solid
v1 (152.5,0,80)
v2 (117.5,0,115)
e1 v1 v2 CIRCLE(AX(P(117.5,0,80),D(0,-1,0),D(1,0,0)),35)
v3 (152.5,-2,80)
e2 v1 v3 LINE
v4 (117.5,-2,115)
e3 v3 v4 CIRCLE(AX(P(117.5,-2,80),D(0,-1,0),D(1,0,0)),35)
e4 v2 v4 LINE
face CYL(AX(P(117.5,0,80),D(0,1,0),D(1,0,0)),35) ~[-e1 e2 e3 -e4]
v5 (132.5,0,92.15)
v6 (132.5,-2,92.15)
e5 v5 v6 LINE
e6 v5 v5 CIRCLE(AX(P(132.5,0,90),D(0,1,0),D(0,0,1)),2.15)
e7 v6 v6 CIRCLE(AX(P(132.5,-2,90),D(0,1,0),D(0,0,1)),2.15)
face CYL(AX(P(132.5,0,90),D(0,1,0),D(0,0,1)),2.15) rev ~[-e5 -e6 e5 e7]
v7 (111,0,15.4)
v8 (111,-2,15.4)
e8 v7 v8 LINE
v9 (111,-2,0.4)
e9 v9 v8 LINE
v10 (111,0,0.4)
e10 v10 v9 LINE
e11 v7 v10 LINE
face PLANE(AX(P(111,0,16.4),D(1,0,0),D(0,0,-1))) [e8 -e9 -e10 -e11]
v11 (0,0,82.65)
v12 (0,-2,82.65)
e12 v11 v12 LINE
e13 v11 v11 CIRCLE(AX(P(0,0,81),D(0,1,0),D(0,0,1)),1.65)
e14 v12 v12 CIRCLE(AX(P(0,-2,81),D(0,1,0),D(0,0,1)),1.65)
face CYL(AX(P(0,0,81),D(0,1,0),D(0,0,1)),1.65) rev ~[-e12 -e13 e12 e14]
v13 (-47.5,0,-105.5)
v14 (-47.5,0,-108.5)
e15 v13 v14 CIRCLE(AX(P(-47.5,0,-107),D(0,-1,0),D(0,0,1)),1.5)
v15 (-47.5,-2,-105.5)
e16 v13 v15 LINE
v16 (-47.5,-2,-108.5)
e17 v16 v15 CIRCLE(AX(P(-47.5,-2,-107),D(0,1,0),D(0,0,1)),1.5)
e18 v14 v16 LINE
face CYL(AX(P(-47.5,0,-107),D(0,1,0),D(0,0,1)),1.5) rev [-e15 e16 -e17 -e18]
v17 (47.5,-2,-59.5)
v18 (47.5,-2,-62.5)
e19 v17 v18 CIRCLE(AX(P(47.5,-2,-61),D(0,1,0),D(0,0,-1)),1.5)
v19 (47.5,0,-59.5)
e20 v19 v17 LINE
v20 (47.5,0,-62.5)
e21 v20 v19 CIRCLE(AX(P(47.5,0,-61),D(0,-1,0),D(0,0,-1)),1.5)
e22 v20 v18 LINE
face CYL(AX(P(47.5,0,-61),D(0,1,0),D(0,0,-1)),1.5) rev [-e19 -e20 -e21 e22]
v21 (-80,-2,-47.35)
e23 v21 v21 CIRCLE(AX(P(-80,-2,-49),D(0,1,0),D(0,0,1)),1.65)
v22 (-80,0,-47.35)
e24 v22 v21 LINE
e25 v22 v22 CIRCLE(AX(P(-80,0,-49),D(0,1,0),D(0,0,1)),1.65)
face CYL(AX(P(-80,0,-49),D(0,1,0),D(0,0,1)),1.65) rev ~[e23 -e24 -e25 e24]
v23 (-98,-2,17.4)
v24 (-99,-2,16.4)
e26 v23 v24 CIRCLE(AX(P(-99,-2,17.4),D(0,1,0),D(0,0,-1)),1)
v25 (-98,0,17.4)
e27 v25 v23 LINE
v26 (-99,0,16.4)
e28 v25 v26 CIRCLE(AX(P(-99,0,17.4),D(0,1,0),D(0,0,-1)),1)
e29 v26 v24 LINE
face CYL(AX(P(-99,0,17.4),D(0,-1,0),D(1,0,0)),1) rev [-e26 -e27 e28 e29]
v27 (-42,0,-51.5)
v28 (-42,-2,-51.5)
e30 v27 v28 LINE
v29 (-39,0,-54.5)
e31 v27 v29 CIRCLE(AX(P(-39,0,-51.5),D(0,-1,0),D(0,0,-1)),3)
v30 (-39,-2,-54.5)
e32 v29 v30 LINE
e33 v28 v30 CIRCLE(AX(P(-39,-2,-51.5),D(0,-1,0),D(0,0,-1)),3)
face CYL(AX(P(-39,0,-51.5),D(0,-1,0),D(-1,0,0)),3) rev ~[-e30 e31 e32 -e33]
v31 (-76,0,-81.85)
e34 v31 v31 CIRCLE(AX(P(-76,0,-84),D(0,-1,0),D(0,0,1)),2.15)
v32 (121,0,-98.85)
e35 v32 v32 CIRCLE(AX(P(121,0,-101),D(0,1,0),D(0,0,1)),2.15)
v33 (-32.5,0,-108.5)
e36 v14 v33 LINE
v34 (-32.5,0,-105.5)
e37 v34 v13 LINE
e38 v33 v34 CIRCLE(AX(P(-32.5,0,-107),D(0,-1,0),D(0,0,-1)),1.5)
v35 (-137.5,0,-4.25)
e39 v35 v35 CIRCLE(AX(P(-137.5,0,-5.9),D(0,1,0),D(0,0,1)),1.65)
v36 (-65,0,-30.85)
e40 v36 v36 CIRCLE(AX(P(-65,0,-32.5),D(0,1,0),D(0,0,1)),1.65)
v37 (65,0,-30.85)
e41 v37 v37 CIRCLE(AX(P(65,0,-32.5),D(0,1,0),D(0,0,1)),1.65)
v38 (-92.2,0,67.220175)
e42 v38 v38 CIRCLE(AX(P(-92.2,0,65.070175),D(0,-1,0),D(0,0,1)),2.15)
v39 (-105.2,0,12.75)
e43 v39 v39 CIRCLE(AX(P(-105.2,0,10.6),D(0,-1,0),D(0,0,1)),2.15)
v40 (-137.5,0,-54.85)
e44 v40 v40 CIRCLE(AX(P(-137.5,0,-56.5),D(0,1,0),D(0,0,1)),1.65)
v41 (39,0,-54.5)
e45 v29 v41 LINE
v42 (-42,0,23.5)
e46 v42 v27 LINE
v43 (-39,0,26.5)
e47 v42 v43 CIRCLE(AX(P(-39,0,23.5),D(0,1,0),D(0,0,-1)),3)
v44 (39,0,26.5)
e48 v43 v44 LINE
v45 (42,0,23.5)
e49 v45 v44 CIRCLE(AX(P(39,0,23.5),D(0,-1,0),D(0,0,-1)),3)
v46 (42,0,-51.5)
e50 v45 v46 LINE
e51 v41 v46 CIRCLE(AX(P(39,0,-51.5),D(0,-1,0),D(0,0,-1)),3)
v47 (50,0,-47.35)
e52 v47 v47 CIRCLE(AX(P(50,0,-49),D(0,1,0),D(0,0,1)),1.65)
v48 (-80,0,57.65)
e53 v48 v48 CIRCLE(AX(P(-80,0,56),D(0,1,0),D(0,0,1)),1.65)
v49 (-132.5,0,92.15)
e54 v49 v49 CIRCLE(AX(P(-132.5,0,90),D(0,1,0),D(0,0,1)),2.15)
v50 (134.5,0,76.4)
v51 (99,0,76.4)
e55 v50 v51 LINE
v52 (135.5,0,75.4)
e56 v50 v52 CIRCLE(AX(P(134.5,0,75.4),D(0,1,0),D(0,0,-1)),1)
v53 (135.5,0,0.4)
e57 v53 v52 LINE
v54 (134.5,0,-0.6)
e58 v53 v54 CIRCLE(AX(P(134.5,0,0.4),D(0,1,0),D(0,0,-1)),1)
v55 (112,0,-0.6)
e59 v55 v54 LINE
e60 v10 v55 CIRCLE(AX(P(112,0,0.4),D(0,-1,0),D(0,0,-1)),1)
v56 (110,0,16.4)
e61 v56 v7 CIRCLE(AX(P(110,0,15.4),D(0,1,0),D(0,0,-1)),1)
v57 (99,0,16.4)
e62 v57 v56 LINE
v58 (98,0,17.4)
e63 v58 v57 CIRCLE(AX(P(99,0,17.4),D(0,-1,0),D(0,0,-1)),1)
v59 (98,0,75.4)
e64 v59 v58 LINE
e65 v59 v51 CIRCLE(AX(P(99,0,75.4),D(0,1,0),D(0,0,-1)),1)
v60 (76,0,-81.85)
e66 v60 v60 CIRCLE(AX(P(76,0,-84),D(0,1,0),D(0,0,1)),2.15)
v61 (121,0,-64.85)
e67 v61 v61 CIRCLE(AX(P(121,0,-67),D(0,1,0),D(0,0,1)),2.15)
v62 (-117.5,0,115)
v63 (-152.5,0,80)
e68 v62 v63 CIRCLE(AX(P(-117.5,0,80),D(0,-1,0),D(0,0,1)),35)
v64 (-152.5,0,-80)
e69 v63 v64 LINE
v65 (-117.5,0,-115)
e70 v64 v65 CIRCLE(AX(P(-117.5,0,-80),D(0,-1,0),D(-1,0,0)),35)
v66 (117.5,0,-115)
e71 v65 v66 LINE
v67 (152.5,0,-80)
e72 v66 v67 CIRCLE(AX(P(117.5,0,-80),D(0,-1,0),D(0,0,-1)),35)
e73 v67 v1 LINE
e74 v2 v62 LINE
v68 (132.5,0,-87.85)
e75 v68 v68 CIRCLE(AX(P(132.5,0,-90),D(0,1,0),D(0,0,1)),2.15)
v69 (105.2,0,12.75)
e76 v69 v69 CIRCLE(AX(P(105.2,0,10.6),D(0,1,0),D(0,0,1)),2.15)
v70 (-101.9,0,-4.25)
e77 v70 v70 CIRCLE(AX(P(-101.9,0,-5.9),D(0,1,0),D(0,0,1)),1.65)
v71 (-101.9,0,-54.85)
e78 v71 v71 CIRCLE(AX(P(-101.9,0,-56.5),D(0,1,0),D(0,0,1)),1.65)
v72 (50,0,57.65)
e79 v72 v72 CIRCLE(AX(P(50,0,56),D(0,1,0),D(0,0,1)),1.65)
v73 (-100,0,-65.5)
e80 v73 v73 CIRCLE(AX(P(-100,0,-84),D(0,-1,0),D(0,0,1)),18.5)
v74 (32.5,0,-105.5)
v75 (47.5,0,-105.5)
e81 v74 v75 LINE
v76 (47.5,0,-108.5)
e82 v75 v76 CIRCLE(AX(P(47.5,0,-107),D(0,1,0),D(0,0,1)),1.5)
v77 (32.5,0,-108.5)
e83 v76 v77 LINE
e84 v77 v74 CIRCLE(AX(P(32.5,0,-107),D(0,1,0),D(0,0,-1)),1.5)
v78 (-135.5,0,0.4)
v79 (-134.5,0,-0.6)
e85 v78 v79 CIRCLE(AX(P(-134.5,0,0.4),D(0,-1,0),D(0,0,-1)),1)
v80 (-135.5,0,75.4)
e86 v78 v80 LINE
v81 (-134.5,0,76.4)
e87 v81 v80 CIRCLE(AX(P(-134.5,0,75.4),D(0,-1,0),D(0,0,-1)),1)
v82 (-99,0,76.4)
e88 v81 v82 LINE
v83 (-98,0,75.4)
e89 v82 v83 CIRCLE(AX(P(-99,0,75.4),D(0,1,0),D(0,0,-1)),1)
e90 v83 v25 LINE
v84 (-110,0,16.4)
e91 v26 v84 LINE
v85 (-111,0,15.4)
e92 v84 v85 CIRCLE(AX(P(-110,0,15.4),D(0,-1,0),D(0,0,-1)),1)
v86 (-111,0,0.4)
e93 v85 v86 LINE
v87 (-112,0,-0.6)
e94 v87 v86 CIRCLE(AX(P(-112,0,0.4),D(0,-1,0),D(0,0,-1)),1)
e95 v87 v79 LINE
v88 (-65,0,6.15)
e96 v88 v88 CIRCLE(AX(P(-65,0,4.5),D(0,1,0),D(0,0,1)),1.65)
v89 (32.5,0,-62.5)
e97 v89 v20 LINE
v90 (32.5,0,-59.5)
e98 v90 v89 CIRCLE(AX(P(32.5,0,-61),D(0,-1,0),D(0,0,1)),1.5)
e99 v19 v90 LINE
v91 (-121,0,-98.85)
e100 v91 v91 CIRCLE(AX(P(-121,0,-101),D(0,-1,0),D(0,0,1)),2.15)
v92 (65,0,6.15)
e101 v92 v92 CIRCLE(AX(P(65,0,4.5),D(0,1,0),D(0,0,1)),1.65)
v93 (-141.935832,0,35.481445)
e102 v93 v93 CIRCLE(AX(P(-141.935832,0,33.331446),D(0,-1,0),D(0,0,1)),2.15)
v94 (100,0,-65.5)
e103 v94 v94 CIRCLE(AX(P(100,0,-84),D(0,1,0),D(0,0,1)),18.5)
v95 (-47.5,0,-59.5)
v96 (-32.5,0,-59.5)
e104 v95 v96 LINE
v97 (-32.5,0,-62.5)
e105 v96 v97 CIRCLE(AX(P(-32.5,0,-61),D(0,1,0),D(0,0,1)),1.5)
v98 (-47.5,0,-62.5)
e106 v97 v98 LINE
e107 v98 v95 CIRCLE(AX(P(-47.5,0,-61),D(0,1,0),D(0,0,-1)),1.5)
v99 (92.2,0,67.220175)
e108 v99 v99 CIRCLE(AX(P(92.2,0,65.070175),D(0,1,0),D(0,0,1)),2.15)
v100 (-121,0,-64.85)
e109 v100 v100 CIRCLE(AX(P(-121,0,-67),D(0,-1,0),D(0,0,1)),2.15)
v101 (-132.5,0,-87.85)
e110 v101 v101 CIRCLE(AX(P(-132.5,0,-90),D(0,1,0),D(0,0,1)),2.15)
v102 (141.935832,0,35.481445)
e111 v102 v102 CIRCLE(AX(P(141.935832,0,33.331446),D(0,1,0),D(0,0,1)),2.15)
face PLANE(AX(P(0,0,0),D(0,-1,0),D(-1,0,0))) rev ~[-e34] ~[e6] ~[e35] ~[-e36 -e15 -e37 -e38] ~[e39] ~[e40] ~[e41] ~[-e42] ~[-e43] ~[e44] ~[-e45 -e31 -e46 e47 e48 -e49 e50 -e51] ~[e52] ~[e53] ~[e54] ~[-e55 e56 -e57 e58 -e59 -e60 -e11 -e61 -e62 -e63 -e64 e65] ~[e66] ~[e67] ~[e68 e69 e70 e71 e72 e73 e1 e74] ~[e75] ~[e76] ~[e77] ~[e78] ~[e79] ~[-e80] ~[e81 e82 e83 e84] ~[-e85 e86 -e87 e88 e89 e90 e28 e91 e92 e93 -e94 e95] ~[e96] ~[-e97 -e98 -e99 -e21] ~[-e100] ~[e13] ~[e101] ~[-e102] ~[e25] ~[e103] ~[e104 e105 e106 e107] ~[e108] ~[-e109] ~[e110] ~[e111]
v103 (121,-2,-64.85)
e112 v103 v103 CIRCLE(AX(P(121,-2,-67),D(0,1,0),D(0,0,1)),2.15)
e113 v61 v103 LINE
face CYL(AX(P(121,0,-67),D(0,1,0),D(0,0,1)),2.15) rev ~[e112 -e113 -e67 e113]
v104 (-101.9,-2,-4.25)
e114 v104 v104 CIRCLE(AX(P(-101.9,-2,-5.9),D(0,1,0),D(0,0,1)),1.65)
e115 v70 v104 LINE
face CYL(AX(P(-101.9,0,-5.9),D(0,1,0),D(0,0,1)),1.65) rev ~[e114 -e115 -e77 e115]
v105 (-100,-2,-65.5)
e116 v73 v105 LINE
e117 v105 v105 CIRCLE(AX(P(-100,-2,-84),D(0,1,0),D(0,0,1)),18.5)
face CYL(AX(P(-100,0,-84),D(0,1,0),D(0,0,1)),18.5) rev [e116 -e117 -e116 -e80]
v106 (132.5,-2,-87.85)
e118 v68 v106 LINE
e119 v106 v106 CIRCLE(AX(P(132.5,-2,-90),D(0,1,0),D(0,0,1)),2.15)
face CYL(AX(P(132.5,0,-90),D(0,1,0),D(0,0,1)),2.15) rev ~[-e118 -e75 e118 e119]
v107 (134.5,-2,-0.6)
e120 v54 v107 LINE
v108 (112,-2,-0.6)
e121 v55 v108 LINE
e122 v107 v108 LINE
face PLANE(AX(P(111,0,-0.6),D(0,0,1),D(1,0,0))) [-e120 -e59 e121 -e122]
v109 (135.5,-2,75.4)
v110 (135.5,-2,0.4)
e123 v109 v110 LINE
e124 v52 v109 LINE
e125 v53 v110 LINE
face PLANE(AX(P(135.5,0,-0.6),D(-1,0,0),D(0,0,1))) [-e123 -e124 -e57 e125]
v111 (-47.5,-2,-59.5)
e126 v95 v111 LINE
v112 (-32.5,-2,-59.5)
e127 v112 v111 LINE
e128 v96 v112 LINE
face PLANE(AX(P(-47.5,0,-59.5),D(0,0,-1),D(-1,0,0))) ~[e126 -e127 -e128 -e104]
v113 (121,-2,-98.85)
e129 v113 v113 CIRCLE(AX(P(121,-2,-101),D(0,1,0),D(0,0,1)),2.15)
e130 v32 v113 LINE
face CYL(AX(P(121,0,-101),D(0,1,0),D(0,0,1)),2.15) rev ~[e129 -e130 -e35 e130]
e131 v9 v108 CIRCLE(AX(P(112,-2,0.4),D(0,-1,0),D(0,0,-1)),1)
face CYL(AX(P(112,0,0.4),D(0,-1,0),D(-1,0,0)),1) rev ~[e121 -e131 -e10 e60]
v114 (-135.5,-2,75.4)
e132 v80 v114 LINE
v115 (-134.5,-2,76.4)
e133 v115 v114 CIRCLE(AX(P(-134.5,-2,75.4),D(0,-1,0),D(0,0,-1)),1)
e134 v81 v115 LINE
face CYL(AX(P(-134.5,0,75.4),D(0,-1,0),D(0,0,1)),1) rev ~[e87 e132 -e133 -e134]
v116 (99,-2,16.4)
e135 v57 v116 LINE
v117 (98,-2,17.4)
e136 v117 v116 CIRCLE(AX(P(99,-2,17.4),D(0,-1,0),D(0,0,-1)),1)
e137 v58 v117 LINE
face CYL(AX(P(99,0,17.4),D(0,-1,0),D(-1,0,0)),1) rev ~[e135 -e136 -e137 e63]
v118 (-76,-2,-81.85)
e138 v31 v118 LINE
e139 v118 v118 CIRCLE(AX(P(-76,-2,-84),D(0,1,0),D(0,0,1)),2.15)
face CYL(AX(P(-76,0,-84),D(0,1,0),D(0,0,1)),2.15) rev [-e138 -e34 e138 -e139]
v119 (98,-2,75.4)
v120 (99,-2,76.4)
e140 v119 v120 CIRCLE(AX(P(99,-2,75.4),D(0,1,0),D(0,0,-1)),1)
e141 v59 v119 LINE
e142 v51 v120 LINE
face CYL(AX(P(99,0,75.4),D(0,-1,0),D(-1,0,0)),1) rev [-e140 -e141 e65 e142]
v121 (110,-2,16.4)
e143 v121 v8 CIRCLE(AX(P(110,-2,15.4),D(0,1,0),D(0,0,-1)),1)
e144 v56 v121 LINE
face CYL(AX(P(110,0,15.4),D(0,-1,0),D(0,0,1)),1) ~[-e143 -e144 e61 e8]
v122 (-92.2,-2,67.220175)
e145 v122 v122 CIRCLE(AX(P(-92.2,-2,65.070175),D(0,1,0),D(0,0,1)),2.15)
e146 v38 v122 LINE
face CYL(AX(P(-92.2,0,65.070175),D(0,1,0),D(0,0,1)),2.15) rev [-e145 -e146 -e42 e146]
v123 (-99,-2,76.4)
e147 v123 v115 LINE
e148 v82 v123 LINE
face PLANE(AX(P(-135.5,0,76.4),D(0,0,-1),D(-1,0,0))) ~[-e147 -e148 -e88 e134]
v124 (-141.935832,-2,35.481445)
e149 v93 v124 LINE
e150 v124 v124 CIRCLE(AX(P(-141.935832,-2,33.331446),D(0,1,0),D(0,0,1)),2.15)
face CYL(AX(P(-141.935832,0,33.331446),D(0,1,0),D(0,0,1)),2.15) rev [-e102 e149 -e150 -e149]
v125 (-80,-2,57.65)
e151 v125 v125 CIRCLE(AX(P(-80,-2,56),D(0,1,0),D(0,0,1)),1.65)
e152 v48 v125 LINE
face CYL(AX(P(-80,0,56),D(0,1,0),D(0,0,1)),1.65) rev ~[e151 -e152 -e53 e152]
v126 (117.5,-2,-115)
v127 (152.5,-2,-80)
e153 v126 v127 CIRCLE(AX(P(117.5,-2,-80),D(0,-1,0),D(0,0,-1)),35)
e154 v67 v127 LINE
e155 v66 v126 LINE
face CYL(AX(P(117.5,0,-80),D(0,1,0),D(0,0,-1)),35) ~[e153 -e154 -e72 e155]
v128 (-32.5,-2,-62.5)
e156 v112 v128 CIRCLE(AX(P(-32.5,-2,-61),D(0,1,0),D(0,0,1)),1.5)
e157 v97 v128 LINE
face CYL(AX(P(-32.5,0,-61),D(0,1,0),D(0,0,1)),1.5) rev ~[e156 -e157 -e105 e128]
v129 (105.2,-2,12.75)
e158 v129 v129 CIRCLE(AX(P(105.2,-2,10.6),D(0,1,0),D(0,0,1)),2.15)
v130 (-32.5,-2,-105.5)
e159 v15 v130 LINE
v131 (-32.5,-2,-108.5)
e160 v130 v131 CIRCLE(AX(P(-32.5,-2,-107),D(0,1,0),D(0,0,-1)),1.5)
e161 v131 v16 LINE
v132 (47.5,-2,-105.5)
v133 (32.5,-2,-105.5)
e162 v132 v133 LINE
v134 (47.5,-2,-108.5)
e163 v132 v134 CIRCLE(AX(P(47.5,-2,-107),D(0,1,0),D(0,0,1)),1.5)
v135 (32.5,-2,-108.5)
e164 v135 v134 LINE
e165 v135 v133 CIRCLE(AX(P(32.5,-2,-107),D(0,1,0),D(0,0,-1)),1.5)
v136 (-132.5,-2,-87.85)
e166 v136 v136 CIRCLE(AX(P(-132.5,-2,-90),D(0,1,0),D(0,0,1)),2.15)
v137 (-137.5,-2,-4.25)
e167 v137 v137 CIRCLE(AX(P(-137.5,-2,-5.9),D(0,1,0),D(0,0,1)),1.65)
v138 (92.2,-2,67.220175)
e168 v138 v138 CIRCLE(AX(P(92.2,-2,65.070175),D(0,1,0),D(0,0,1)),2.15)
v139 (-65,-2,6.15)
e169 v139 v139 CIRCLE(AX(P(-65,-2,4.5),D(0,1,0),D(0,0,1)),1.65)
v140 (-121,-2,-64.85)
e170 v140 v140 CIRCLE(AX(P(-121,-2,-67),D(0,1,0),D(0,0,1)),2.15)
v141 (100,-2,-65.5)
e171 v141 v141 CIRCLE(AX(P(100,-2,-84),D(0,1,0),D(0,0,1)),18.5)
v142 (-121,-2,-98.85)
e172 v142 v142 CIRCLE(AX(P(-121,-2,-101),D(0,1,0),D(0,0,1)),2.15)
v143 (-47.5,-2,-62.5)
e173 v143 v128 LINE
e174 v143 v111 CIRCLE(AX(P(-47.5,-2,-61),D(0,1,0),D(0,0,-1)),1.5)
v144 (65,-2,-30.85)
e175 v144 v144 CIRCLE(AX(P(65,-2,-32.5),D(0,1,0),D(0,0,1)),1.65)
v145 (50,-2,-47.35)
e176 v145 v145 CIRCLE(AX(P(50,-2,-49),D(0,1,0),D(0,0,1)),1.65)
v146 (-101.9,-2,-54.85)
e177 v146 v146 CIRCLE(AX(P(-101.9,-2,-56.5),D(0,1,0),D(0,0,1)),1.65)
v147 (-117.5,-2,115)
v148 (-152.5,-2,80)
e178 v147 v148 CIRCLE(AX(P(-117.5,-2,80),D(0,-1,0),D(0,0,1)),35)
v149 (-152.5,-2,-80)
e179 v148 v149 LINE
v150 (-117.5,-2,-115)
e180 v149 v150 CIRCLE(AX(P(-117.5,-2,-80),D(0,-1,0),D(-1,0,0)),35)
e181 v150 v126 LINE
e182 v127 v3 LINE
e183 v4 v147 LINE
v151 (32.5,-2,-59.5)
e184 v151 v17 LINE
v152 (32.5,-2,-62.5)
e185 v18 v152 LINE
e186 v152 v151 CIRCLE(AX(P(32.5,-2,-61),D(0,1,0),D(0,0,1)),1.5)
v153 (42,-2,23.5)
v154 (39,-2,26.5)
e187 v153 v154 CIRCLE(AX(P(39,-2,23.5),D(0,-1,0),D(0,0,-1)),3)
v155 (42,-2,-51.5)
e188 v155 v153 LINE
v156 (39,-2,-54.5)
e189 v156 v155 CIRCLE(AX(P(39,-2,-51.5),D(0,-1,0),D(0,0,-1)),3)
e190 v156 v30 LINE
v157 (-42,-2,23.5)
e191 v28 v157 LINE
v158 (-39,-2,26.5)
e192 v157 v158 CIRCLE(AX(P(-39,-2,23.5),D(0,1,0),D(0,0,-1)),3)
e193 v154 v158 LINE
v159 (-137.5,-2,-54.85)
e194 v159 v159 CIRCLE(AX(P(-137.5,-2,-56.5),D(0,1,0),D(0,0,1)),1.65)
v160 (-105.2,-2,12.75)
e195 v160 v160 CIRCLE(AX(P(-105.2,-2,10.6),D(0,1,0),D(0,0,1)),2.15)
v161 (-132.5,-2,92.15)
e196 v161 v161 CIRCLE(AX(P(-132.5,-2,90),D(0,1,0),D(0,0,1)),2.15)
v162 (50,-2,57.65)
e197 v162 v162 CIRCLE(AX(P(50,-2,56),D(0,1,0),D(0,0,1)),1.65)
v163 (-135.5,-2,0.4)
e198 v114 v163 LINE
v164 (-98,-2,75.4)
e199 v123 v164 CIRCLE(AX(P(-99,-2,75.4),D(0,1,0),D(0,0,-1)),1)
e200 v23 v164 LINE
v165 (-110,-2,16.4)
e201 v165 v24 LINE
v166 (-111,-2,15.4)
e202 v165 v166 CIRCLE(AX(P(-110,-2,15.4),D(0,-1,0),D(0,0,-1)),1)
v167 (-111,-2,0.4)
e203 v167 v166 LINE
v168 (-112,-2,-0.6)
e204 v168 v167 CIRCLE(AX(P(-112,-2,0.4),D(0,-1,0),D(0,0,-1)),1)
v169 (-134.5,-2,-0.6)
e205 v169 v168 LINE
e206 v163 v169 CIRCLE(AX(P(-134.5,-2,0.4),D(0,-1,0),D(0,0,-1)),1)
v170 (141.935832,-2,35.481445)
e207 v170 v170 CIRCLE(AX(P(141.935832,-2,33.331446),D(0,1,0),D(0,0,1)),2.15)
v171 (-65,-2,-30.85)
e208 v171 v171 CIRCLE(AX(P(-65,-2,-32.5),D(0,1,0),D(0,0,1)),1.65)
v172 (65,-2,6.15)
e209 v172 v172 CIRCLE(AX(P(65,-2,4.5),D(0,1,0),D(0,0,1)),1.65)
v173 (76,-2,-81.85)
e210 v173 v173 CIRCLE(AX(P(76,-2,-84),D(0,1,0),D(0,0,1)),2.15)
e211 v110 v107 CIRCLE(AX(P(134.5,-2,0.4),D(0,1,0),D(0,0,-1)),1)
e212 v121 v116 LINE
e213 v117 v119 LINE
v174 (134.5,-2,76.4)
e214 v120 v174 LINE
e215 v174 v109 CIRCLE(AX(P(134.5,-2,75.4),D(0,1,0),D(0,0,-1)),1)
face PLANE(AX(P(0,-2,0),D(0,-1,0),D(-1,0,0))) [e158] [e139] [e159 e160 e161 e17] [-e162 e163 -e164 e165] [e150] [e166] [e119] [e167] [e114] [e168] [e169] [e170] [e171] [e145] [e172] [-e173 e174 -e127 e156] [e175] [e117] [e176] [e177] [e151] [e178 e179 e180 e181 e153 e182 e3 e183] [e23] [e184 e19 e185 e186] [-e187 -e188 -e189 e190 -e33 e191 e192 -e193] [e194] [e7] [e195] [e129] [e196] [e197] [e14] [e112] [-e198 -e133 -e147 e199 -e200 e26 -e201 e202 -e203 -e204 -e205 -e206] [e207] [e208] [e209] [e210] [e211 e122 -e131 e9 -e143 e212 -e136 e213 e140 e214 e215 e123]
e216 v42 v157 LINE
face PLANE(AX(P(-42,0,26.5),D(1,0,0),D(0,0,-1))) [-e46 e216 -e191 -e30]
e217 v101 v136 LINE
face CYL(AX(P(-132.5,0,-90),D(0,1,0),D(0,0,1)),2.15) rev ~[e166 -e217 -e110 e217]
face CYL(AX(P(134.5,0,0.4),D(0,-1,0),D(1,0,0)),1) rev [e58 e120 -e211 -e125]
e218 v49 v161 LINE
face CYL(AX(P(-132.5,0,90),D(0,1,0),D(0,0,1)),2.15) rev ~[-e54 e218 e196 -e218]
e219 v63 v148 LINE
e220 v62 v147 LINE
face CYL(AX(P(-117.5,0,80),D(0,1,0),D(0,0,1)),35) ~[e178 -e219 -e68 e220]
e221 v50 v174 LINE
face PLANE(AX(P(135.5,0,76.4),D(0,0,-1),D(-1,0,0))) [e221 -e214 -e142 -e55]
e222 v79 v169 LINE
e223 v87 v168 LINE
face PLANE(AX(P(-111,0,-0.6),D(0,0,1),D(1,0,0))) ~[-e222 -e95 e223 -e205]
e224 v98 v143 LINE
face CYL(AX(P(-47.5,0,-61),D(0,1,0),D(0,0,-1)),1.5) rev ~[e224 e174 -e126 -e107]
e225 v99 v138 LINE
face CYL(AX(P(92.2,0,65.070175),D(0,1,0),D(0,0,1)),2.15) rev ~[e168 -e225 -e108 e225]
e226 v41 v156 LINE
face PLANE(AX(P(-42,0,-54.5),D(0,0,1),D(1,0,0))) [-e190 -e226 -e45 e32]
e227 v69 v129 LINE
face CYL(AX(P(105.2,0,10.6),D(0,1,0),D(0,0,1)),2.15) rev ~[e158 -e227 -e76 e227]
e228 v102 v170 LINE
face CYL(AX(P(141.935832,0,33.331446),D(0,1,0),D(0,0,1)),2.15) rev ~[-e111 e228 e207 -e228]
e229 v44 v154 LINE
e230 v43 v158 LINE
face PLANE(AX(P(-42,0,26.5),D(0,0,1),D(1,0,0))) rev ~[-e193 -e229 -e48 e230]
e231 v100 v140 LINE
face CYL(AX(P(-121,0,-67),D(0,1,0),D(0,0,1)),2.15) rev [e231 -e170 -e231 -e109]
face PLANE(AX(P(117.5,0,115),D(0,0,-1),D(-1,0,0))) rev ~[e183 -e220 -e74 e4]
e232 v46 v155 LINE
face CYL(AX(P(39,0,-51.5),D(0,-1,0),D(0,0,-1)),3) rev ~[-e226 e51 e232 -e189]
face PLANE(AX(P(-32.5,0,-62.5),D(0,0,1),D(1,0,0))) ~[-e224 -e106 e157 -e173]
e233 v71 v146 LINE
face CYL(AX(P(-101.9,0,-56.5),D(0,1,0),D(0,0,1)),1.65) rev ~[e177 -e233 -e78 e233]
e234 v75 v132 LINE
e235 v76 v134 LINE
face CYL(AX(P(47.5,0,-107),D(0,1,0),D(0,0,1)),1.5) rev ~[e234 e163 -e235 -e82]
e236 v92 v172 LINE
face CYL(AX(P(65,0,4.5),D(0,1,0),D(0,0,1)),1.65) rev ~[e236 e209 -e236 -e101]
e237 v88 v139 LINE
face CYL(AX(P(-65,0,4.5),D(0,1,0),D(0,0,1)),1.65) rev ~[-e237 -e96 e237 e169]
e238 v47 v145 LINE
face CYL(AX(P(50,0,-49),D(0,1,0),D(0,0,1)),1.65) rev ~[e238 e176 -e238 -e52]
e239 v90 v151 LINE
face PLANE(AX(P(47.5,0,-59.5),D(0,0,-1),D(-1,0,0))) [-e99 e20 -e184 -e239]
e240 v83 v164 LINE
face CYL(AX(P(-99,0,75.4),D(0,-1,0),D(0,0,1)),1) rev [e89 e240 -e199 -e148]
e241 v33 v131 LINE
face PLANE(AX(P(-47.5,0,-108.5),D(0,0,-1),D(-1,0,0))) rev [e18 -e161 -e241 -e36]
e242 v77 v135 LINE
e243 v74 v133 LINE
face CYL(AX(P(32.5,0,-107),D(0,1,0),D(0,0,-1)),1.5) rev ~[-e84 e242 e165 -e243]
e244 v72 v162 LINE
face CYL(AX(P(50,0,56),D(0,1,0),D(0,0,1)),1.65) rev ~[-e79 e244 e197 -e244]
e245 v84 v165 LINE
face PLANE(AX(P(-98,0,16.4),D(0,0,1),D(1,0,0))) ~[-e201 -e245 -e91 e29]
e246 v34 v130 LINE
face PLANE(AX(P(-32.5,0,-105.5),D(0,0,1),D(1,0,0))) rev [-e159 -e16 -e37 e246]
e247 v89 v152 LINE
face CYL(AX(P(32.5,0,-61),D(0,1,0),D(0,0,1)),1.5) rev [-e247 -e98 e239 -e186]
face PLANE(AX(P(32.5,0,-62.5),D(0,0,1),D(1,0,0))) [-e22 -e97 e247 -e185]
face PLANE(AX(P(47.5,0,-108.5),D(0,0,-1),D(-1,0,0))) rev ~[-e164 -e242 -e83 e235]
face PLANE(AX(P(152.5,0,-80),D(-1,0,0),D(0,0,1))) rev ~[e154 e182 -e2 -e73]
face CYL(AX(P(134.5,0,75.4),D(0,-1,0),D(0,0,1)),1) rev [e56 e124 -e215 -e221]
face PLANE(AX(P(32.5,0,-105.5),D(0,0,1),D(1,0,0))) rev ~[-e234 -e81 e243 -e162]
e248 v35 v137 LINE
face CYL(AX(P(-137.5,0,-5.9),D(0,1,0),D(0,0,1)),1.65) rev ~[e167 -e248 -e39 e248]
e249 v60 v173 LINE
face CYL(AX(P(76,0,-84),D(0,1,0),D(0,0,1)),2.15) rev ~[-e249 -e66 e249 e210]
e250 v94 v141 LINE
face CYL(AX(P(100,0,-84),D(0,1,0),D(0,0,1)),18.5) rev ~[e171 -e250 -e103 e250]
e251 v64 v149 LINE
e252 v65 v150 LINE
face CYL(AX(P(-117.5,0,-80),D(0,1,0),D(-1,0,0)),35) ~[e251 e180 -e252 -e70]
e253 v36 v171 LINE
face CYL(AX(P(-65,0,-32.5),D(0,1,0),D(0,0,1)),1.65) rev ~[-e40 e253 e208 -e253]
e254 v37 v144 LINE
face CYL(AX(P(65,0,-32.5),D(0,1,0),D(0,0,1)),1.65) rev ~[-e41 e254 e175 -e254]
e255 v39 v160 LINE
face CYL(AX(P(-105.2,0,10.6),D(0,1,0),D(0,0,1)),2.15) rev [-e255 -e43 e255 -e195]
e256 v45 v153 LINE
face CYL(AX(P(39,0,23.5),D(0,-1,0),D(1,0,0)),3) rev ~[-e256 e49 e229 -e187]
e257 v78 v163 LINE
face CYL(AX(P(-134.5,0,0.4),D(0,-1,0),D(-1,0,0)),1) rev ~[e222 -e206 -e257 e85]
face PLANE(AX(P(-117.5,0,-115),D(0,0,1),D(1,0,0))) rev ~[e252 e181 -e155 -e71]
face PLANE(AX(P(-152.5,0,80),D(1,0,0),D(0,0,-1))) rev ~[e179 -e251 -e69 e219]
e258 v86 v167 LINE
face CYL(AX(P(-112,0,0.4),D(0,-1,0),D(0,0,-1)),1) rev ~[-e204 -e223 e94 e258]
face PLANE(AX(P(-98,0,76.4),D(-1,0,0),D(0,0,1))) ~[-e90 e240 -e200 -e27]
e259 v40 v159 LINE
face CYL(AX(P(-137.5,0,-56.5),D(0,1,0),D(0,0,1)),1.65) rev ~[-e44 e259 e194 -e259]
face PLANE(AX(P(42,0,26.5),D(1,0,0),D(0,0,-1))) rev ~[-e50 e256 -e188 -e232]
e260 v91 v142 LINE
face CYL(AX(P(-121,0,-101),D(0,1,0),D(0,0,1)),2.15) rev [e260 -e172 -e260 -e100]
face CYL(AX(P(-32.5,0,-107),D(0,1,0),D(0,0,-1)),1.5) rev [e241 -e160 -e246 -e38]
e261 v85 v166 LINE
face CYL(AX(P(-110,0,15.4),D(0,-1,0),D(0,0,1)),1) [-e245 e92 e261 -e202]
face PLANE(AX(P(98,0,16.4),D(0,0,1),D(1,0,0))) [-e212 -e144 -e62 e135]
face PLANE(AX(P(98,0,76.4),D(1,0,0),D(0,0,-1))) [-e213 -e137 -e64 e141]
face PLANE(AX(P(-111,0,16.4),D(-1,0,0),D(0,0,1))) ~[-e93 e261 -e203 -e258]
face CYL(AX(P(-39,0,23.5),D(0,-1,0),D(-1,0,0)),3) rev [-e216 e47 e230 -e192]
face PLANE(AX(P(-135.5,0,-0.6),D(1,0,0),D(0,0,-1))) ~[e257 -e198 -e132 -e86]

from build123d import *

# Parameters (mm, degrees)
BOSS_EXTRUDE1_DEPTH  = 2
CUT_EXTRUDE8_DEPTH   = 192.01112533
SKETCH3_R            = 2.15
CUT_EXTRUDE9_DEPTH   = 192.01112533
SKETCH8_R            = 2.15
CUT_EXTRUDE11_DEPTH  = 192.01112533
FILLET1_R            = 1
SKETCH17_R           = 18.5
SKETCH17_R_2         = 2.15
CUT_EXTRUDE19_DEPTH  = 10
SKETCH19_R           = 1.65
SKETCH19_W           = 84
SKETCH19_H           = 81
CUT_EXTRUDE21_DEPTH  = 192.01112533
FILLET2_R            = 3
SKETCH20_R           = 1.65
CUT_EXTRUDE22_DEPTH  = 192.01112533
SKETCH21_R           = 1.65
CUT_EXTRUDE23_DEPTH  = 192.01112533
CUT_EXTRUDE24_DEPTH  = 192.01112533
FILLET1_OF_MIRROR1_R = 1


with BuildPart() as part:
    # Sketch1 → Boss-Extrude1 (new body)
    with BuildSketch(Plane(origin=(0, 0, 0), x_dir=(1, 0, 0), z_dir=(0, 1, 0))):
        with BuildLine():
            Line((117.5, -115), (-117.5, -115))
            ThreePointArc((-117.5, -115), (-142.248737342, -104.748737342), (-152.5, -80))
            Line((-152.5, -80), (-152.5, 80))
            ThreePointArc((-152.5, 80), (-142.248737342, 104.748737342), (-117.5, 115))
            Line((-117.5, 115), (117.5, 115))
            ThreePointArc((117.5, 115), (142.248737342, 104.748737342), (152.5, 80))
            Line((152.5, 80), (152.5, -80))
            ThreePointArc((152.5, -80), (142.248737342, -104.748737342), (117.5, -115))
        make_face()
    extrude(amount=-BOSS_EXTRUDE1_DEPTH)

    # Sketch2 → Cut-Extrude8 (cut, through all)
    with BuildSketch(Plane(origin=(0, 0, 0), x_dir=(1, 0, 0), z_dir=(0, 1, 0))):
        Polygon((98, -76.4), (98, -16.4), (111, -16.4), (111, 0.6), (135.5, 0.6), (135.5, -76.4), align=None)
    cut_extrude8 = extrude(amount=-CUT_EXTRUDE8_DEPTH, mode=Mode.SUBTRACT)

    # Sketch3 → Cut-Extrude9 (cut, through all)
    with BuildSketch(Plane(origin=(0, 0, 0), x_dir=(1, 0, 0), z_dir=(0, 1, 0))):
        with Locations(Location((92.2, -65.070175326, 0), (0, 0, 270))):
            Circle(SKETCH3_R)
        with Locations(Location((105.2, -10.6, 0), (0, 0, 270))):
            Circle(SKETCH3_R)
        with Locations(Location((141.935832446, -33.3314455, 0), (0, 0, 270))):
            Circle(SKETCH3_R)
    cut_extrude9 = extrude(amount=-CUT_EXTRUDE9_DEPTH, mode=Mode.SUBTRACT)

    # Sketch8 → Cut-Extrude11 (cut, through all)
    with BuildSketch(Plane(origin=(0, 0, 0), x_dir=(1, 0, 0), z_dir=(0, 1, 0))):
        with Locations(Location((-132.5, 90, 0), (0, 0, 270))):
            Circle(SKETCH8_R)
        with Locations(Location((132.5, 90, 0), (0, 0, 270))):
            Circle(SKETCH8_R)
        with Locations(Location((-132.5, -90, 0), (0, 0, 270))):
            Circle(SKETCH8_R)
        with Locations(Location((132.5, -90, 0), (0, 0, 270))):
            Circle(SKETCH8_R)
    extrude(amount=-CUT_EXTRUDE11_DEPTH, mode=Mode.SUBTRACT)

    # Fillet1
    fillet1_edges = [part.edges().sort_by_distance(p)[0] for p in [
        (135.5, -1, 76.4),
        (98, -1, 76.4),
        (98, -1, 16.4),
        (111, -1, 16.4),
        (111, -1, -0.6),
        (135.5, -1, -0.6),
    ]]
    fillet(fillet1_edges, radius=FILLET1_R)

    # Sketch17 → Cut-Extrude19 (cut)
    with BuildSketch(Plane(origin=(0, 0, 0), x_dir=(1, 0, 0), z_dir=(0, 1, 0))):
        with Locations(Location((100, 84, 0), (0, 0, 270))):
            Circle(SKETCH17_R)
        with Locations(Location((121, 101, 0), (0, 0, 270))):
            Circle(SKETCH17_R_2)
        with Locations(Location((121, 67, 0), (0, 0, 270))):
            Circle(SKETCH17_R_2)
        with Locations(Location((76, 84, 0), (0, 0, 270))):
            Circle(SKETCH17_R_2)
    cut_extrude19 = extrude(amount=-CUT_EXTRUDE19_DEPTH, mode=Mode.SUBTRACT)

    # Sketch19 → Cut-Extrude21 (cut, through all)
    with BuildSketch(Plane(origin=(0, 0, 0), x_dir=(1, 0, 0), z_dir=(0, 1, 0))):
        with Locations(Location((-65, 32.5, 0), (0, 0, 270))):
            Circle(SKETCH19_R)
        with Locations(Location((-65, -4.5, 0), (0, 0, 270))):
            Circle(SKETCH19_R)
        with Locations(Location((65, -4.5, 0), (0, 0, 270))):
            Circle(SKETCH19_R)
        with Locations(Location((65, 32.5, 0), (0, 0, 270))):
            Circle(SKETCH19_R)
        with Locations((0, 14)):
            Rectangle(SKETCH19_W, SKETCH19_H)
    extrude(amount=-CUT_EXTRUDE21_DEPTH, mode=Mode.SUBTRACT)

    # Fillet2
    fillet2_edges = [part.edges().sort_by_distance(p)[0] for p in [
        (42, -1, -54.5),
        (42, -1, 26.5),
        (-42, -1, 26.5),
        (-42, -1, -54.5),
    ]]
    fillet(fillet2_edges, radius=FILLET2_R)

    # Sketch20 → Cut-Extrude22 (cut, through all)
    with BuildSketch(Plane(origin=(0, 0, 0), x_dir=(1, 0, 0), z_dir=(0, 1, 0))):
        with Locations(Location((-137.5, 56.5, 0), (0, 0, 270))):
            Circle(SKETCH20_R)
        with Locations(Location((-101.9, 56.5, 0), (0, 0, 270))):
            Circle(SKETCH20_R)
        with Locations(Location((-137.5, 5.9, 0), (0, 0, 270))):
            Circle(SKETCH20_R)
        with Locations(Location((-101.9, 5.9, 0), (0, 0, 270))):
            Circle(SKETCH20_R)
    extrude(amount=-CUT_EXTRUDE22_DEPTH, mode=Mode.SUBTRACT)

    # Sketch21 → Cut-Extrude23 (cut, through all)
    with BuildSketch(Plane(origin=(0, 0, 0), x_dir=(1, 0, 0), z_dir=(0, 1, 0))):
        with Locations(Location((-80, 49, 0), (0, 0, 270))):
            Circle(SKETCH21_R)
        with Locations(Location((-80, -56, 0), (0, 0, 270))):
            Circle(SKETCH21_R)
        with Locations(Location((0, -81, 0), (0, 0, 270))):
            Circle(SKETCH21_R)
        with Locations(Location((50, -56, 0), (0, 0, 270))):
            Circle(SKETCH21_R)
        with Locations(Location((50, 49, 0), (0, 0, 270))):
            Circle(SKETCH21_R)
    extrude(amount=-CUT_EXTRUDE23_DEPTH, mode=Mode.SUBTRACT)

    # Sketch23 → Cut-Extrude24 (cut, through all)
    with BuildSketch(Plane(origin=(0, 0, 0), x_dir=(1, 0, 0), z_dir=(0, 1, 0))):
        with BuildLine():
            Line((32.5, 105.5), (47.5, 105.5))
            ThreePointArc((47.5, 105.5), (49, 107), (47.5, 108.5))
            Line((47.5, 108.5), (32.5, 108.5))
            ThreePointArc((32.5, 108.5), (31, 107), (32.5, 105.5))
        make_face()
        with BuildLine():
            Line((32.5, 62.5), (47.5, 62.5))
            ThreePointArc((47.5, 62.5), (49, 61), (47.5, 59.5))
            Line((47.5, 59.5), (32.5, 59.5))
            ThreePointArc((32.5, 59.5), (31, 61), (32.5, 62.5))
        make_face()
    cut_extrude24 = extrude(amount=-CUT_EXTRUDE24_DEPTH, mode=Mode.SUBTRACT)

    # Mirror1: Cut-Extrude8, Cut-Extrude9, Cut-Extrude19, Cut-Extrude24 across plane
    add(cut_extrude8.mirror(Plane(origin=(0, 0, 0), x_dir=(0, 0, 1), z_dir=(1, 0, 0))), mode=Mode.SUBTRACT)
    add(cut_extrude9.mirror(Plane(origin=(0, 0, 0), x_dir=(0, 0, 1), z_dir=(1, 0, 0))), mode=Mode.SUBTRACT)
    add(cut_extrude19.mirror(Plane(origin=(0, 0, 0), x_dir=(0, 0, 1), z_dir=(1, 0, 0))), mode=Mode.SUBTRACT)
    add(cut_extrude24.mirror(Plane(origin=(0, 0, 0), x_dir=(0, 0, 1), z_dir=(1, 0, 0))), mode=Mode.SUBTRACT)

    # Fillet1 of Mirror1
    fillet1_of_mirror1_edges = [part.edges().sort_by_distance(p)[0] for p in [
        (-135.5, -1, 76.4),
        (-98, -1, 76.4),
        (-98, -1, 16.4),
        (-111, -1, 16.4),
        (-111, -1, -0.6),
        (-135.5, -1, -0.6),
    ]]
    fillet(fillet1_of_mirror1_edges, radius=FILLET1_OF_MIRROR1_R)


solid = part.part
